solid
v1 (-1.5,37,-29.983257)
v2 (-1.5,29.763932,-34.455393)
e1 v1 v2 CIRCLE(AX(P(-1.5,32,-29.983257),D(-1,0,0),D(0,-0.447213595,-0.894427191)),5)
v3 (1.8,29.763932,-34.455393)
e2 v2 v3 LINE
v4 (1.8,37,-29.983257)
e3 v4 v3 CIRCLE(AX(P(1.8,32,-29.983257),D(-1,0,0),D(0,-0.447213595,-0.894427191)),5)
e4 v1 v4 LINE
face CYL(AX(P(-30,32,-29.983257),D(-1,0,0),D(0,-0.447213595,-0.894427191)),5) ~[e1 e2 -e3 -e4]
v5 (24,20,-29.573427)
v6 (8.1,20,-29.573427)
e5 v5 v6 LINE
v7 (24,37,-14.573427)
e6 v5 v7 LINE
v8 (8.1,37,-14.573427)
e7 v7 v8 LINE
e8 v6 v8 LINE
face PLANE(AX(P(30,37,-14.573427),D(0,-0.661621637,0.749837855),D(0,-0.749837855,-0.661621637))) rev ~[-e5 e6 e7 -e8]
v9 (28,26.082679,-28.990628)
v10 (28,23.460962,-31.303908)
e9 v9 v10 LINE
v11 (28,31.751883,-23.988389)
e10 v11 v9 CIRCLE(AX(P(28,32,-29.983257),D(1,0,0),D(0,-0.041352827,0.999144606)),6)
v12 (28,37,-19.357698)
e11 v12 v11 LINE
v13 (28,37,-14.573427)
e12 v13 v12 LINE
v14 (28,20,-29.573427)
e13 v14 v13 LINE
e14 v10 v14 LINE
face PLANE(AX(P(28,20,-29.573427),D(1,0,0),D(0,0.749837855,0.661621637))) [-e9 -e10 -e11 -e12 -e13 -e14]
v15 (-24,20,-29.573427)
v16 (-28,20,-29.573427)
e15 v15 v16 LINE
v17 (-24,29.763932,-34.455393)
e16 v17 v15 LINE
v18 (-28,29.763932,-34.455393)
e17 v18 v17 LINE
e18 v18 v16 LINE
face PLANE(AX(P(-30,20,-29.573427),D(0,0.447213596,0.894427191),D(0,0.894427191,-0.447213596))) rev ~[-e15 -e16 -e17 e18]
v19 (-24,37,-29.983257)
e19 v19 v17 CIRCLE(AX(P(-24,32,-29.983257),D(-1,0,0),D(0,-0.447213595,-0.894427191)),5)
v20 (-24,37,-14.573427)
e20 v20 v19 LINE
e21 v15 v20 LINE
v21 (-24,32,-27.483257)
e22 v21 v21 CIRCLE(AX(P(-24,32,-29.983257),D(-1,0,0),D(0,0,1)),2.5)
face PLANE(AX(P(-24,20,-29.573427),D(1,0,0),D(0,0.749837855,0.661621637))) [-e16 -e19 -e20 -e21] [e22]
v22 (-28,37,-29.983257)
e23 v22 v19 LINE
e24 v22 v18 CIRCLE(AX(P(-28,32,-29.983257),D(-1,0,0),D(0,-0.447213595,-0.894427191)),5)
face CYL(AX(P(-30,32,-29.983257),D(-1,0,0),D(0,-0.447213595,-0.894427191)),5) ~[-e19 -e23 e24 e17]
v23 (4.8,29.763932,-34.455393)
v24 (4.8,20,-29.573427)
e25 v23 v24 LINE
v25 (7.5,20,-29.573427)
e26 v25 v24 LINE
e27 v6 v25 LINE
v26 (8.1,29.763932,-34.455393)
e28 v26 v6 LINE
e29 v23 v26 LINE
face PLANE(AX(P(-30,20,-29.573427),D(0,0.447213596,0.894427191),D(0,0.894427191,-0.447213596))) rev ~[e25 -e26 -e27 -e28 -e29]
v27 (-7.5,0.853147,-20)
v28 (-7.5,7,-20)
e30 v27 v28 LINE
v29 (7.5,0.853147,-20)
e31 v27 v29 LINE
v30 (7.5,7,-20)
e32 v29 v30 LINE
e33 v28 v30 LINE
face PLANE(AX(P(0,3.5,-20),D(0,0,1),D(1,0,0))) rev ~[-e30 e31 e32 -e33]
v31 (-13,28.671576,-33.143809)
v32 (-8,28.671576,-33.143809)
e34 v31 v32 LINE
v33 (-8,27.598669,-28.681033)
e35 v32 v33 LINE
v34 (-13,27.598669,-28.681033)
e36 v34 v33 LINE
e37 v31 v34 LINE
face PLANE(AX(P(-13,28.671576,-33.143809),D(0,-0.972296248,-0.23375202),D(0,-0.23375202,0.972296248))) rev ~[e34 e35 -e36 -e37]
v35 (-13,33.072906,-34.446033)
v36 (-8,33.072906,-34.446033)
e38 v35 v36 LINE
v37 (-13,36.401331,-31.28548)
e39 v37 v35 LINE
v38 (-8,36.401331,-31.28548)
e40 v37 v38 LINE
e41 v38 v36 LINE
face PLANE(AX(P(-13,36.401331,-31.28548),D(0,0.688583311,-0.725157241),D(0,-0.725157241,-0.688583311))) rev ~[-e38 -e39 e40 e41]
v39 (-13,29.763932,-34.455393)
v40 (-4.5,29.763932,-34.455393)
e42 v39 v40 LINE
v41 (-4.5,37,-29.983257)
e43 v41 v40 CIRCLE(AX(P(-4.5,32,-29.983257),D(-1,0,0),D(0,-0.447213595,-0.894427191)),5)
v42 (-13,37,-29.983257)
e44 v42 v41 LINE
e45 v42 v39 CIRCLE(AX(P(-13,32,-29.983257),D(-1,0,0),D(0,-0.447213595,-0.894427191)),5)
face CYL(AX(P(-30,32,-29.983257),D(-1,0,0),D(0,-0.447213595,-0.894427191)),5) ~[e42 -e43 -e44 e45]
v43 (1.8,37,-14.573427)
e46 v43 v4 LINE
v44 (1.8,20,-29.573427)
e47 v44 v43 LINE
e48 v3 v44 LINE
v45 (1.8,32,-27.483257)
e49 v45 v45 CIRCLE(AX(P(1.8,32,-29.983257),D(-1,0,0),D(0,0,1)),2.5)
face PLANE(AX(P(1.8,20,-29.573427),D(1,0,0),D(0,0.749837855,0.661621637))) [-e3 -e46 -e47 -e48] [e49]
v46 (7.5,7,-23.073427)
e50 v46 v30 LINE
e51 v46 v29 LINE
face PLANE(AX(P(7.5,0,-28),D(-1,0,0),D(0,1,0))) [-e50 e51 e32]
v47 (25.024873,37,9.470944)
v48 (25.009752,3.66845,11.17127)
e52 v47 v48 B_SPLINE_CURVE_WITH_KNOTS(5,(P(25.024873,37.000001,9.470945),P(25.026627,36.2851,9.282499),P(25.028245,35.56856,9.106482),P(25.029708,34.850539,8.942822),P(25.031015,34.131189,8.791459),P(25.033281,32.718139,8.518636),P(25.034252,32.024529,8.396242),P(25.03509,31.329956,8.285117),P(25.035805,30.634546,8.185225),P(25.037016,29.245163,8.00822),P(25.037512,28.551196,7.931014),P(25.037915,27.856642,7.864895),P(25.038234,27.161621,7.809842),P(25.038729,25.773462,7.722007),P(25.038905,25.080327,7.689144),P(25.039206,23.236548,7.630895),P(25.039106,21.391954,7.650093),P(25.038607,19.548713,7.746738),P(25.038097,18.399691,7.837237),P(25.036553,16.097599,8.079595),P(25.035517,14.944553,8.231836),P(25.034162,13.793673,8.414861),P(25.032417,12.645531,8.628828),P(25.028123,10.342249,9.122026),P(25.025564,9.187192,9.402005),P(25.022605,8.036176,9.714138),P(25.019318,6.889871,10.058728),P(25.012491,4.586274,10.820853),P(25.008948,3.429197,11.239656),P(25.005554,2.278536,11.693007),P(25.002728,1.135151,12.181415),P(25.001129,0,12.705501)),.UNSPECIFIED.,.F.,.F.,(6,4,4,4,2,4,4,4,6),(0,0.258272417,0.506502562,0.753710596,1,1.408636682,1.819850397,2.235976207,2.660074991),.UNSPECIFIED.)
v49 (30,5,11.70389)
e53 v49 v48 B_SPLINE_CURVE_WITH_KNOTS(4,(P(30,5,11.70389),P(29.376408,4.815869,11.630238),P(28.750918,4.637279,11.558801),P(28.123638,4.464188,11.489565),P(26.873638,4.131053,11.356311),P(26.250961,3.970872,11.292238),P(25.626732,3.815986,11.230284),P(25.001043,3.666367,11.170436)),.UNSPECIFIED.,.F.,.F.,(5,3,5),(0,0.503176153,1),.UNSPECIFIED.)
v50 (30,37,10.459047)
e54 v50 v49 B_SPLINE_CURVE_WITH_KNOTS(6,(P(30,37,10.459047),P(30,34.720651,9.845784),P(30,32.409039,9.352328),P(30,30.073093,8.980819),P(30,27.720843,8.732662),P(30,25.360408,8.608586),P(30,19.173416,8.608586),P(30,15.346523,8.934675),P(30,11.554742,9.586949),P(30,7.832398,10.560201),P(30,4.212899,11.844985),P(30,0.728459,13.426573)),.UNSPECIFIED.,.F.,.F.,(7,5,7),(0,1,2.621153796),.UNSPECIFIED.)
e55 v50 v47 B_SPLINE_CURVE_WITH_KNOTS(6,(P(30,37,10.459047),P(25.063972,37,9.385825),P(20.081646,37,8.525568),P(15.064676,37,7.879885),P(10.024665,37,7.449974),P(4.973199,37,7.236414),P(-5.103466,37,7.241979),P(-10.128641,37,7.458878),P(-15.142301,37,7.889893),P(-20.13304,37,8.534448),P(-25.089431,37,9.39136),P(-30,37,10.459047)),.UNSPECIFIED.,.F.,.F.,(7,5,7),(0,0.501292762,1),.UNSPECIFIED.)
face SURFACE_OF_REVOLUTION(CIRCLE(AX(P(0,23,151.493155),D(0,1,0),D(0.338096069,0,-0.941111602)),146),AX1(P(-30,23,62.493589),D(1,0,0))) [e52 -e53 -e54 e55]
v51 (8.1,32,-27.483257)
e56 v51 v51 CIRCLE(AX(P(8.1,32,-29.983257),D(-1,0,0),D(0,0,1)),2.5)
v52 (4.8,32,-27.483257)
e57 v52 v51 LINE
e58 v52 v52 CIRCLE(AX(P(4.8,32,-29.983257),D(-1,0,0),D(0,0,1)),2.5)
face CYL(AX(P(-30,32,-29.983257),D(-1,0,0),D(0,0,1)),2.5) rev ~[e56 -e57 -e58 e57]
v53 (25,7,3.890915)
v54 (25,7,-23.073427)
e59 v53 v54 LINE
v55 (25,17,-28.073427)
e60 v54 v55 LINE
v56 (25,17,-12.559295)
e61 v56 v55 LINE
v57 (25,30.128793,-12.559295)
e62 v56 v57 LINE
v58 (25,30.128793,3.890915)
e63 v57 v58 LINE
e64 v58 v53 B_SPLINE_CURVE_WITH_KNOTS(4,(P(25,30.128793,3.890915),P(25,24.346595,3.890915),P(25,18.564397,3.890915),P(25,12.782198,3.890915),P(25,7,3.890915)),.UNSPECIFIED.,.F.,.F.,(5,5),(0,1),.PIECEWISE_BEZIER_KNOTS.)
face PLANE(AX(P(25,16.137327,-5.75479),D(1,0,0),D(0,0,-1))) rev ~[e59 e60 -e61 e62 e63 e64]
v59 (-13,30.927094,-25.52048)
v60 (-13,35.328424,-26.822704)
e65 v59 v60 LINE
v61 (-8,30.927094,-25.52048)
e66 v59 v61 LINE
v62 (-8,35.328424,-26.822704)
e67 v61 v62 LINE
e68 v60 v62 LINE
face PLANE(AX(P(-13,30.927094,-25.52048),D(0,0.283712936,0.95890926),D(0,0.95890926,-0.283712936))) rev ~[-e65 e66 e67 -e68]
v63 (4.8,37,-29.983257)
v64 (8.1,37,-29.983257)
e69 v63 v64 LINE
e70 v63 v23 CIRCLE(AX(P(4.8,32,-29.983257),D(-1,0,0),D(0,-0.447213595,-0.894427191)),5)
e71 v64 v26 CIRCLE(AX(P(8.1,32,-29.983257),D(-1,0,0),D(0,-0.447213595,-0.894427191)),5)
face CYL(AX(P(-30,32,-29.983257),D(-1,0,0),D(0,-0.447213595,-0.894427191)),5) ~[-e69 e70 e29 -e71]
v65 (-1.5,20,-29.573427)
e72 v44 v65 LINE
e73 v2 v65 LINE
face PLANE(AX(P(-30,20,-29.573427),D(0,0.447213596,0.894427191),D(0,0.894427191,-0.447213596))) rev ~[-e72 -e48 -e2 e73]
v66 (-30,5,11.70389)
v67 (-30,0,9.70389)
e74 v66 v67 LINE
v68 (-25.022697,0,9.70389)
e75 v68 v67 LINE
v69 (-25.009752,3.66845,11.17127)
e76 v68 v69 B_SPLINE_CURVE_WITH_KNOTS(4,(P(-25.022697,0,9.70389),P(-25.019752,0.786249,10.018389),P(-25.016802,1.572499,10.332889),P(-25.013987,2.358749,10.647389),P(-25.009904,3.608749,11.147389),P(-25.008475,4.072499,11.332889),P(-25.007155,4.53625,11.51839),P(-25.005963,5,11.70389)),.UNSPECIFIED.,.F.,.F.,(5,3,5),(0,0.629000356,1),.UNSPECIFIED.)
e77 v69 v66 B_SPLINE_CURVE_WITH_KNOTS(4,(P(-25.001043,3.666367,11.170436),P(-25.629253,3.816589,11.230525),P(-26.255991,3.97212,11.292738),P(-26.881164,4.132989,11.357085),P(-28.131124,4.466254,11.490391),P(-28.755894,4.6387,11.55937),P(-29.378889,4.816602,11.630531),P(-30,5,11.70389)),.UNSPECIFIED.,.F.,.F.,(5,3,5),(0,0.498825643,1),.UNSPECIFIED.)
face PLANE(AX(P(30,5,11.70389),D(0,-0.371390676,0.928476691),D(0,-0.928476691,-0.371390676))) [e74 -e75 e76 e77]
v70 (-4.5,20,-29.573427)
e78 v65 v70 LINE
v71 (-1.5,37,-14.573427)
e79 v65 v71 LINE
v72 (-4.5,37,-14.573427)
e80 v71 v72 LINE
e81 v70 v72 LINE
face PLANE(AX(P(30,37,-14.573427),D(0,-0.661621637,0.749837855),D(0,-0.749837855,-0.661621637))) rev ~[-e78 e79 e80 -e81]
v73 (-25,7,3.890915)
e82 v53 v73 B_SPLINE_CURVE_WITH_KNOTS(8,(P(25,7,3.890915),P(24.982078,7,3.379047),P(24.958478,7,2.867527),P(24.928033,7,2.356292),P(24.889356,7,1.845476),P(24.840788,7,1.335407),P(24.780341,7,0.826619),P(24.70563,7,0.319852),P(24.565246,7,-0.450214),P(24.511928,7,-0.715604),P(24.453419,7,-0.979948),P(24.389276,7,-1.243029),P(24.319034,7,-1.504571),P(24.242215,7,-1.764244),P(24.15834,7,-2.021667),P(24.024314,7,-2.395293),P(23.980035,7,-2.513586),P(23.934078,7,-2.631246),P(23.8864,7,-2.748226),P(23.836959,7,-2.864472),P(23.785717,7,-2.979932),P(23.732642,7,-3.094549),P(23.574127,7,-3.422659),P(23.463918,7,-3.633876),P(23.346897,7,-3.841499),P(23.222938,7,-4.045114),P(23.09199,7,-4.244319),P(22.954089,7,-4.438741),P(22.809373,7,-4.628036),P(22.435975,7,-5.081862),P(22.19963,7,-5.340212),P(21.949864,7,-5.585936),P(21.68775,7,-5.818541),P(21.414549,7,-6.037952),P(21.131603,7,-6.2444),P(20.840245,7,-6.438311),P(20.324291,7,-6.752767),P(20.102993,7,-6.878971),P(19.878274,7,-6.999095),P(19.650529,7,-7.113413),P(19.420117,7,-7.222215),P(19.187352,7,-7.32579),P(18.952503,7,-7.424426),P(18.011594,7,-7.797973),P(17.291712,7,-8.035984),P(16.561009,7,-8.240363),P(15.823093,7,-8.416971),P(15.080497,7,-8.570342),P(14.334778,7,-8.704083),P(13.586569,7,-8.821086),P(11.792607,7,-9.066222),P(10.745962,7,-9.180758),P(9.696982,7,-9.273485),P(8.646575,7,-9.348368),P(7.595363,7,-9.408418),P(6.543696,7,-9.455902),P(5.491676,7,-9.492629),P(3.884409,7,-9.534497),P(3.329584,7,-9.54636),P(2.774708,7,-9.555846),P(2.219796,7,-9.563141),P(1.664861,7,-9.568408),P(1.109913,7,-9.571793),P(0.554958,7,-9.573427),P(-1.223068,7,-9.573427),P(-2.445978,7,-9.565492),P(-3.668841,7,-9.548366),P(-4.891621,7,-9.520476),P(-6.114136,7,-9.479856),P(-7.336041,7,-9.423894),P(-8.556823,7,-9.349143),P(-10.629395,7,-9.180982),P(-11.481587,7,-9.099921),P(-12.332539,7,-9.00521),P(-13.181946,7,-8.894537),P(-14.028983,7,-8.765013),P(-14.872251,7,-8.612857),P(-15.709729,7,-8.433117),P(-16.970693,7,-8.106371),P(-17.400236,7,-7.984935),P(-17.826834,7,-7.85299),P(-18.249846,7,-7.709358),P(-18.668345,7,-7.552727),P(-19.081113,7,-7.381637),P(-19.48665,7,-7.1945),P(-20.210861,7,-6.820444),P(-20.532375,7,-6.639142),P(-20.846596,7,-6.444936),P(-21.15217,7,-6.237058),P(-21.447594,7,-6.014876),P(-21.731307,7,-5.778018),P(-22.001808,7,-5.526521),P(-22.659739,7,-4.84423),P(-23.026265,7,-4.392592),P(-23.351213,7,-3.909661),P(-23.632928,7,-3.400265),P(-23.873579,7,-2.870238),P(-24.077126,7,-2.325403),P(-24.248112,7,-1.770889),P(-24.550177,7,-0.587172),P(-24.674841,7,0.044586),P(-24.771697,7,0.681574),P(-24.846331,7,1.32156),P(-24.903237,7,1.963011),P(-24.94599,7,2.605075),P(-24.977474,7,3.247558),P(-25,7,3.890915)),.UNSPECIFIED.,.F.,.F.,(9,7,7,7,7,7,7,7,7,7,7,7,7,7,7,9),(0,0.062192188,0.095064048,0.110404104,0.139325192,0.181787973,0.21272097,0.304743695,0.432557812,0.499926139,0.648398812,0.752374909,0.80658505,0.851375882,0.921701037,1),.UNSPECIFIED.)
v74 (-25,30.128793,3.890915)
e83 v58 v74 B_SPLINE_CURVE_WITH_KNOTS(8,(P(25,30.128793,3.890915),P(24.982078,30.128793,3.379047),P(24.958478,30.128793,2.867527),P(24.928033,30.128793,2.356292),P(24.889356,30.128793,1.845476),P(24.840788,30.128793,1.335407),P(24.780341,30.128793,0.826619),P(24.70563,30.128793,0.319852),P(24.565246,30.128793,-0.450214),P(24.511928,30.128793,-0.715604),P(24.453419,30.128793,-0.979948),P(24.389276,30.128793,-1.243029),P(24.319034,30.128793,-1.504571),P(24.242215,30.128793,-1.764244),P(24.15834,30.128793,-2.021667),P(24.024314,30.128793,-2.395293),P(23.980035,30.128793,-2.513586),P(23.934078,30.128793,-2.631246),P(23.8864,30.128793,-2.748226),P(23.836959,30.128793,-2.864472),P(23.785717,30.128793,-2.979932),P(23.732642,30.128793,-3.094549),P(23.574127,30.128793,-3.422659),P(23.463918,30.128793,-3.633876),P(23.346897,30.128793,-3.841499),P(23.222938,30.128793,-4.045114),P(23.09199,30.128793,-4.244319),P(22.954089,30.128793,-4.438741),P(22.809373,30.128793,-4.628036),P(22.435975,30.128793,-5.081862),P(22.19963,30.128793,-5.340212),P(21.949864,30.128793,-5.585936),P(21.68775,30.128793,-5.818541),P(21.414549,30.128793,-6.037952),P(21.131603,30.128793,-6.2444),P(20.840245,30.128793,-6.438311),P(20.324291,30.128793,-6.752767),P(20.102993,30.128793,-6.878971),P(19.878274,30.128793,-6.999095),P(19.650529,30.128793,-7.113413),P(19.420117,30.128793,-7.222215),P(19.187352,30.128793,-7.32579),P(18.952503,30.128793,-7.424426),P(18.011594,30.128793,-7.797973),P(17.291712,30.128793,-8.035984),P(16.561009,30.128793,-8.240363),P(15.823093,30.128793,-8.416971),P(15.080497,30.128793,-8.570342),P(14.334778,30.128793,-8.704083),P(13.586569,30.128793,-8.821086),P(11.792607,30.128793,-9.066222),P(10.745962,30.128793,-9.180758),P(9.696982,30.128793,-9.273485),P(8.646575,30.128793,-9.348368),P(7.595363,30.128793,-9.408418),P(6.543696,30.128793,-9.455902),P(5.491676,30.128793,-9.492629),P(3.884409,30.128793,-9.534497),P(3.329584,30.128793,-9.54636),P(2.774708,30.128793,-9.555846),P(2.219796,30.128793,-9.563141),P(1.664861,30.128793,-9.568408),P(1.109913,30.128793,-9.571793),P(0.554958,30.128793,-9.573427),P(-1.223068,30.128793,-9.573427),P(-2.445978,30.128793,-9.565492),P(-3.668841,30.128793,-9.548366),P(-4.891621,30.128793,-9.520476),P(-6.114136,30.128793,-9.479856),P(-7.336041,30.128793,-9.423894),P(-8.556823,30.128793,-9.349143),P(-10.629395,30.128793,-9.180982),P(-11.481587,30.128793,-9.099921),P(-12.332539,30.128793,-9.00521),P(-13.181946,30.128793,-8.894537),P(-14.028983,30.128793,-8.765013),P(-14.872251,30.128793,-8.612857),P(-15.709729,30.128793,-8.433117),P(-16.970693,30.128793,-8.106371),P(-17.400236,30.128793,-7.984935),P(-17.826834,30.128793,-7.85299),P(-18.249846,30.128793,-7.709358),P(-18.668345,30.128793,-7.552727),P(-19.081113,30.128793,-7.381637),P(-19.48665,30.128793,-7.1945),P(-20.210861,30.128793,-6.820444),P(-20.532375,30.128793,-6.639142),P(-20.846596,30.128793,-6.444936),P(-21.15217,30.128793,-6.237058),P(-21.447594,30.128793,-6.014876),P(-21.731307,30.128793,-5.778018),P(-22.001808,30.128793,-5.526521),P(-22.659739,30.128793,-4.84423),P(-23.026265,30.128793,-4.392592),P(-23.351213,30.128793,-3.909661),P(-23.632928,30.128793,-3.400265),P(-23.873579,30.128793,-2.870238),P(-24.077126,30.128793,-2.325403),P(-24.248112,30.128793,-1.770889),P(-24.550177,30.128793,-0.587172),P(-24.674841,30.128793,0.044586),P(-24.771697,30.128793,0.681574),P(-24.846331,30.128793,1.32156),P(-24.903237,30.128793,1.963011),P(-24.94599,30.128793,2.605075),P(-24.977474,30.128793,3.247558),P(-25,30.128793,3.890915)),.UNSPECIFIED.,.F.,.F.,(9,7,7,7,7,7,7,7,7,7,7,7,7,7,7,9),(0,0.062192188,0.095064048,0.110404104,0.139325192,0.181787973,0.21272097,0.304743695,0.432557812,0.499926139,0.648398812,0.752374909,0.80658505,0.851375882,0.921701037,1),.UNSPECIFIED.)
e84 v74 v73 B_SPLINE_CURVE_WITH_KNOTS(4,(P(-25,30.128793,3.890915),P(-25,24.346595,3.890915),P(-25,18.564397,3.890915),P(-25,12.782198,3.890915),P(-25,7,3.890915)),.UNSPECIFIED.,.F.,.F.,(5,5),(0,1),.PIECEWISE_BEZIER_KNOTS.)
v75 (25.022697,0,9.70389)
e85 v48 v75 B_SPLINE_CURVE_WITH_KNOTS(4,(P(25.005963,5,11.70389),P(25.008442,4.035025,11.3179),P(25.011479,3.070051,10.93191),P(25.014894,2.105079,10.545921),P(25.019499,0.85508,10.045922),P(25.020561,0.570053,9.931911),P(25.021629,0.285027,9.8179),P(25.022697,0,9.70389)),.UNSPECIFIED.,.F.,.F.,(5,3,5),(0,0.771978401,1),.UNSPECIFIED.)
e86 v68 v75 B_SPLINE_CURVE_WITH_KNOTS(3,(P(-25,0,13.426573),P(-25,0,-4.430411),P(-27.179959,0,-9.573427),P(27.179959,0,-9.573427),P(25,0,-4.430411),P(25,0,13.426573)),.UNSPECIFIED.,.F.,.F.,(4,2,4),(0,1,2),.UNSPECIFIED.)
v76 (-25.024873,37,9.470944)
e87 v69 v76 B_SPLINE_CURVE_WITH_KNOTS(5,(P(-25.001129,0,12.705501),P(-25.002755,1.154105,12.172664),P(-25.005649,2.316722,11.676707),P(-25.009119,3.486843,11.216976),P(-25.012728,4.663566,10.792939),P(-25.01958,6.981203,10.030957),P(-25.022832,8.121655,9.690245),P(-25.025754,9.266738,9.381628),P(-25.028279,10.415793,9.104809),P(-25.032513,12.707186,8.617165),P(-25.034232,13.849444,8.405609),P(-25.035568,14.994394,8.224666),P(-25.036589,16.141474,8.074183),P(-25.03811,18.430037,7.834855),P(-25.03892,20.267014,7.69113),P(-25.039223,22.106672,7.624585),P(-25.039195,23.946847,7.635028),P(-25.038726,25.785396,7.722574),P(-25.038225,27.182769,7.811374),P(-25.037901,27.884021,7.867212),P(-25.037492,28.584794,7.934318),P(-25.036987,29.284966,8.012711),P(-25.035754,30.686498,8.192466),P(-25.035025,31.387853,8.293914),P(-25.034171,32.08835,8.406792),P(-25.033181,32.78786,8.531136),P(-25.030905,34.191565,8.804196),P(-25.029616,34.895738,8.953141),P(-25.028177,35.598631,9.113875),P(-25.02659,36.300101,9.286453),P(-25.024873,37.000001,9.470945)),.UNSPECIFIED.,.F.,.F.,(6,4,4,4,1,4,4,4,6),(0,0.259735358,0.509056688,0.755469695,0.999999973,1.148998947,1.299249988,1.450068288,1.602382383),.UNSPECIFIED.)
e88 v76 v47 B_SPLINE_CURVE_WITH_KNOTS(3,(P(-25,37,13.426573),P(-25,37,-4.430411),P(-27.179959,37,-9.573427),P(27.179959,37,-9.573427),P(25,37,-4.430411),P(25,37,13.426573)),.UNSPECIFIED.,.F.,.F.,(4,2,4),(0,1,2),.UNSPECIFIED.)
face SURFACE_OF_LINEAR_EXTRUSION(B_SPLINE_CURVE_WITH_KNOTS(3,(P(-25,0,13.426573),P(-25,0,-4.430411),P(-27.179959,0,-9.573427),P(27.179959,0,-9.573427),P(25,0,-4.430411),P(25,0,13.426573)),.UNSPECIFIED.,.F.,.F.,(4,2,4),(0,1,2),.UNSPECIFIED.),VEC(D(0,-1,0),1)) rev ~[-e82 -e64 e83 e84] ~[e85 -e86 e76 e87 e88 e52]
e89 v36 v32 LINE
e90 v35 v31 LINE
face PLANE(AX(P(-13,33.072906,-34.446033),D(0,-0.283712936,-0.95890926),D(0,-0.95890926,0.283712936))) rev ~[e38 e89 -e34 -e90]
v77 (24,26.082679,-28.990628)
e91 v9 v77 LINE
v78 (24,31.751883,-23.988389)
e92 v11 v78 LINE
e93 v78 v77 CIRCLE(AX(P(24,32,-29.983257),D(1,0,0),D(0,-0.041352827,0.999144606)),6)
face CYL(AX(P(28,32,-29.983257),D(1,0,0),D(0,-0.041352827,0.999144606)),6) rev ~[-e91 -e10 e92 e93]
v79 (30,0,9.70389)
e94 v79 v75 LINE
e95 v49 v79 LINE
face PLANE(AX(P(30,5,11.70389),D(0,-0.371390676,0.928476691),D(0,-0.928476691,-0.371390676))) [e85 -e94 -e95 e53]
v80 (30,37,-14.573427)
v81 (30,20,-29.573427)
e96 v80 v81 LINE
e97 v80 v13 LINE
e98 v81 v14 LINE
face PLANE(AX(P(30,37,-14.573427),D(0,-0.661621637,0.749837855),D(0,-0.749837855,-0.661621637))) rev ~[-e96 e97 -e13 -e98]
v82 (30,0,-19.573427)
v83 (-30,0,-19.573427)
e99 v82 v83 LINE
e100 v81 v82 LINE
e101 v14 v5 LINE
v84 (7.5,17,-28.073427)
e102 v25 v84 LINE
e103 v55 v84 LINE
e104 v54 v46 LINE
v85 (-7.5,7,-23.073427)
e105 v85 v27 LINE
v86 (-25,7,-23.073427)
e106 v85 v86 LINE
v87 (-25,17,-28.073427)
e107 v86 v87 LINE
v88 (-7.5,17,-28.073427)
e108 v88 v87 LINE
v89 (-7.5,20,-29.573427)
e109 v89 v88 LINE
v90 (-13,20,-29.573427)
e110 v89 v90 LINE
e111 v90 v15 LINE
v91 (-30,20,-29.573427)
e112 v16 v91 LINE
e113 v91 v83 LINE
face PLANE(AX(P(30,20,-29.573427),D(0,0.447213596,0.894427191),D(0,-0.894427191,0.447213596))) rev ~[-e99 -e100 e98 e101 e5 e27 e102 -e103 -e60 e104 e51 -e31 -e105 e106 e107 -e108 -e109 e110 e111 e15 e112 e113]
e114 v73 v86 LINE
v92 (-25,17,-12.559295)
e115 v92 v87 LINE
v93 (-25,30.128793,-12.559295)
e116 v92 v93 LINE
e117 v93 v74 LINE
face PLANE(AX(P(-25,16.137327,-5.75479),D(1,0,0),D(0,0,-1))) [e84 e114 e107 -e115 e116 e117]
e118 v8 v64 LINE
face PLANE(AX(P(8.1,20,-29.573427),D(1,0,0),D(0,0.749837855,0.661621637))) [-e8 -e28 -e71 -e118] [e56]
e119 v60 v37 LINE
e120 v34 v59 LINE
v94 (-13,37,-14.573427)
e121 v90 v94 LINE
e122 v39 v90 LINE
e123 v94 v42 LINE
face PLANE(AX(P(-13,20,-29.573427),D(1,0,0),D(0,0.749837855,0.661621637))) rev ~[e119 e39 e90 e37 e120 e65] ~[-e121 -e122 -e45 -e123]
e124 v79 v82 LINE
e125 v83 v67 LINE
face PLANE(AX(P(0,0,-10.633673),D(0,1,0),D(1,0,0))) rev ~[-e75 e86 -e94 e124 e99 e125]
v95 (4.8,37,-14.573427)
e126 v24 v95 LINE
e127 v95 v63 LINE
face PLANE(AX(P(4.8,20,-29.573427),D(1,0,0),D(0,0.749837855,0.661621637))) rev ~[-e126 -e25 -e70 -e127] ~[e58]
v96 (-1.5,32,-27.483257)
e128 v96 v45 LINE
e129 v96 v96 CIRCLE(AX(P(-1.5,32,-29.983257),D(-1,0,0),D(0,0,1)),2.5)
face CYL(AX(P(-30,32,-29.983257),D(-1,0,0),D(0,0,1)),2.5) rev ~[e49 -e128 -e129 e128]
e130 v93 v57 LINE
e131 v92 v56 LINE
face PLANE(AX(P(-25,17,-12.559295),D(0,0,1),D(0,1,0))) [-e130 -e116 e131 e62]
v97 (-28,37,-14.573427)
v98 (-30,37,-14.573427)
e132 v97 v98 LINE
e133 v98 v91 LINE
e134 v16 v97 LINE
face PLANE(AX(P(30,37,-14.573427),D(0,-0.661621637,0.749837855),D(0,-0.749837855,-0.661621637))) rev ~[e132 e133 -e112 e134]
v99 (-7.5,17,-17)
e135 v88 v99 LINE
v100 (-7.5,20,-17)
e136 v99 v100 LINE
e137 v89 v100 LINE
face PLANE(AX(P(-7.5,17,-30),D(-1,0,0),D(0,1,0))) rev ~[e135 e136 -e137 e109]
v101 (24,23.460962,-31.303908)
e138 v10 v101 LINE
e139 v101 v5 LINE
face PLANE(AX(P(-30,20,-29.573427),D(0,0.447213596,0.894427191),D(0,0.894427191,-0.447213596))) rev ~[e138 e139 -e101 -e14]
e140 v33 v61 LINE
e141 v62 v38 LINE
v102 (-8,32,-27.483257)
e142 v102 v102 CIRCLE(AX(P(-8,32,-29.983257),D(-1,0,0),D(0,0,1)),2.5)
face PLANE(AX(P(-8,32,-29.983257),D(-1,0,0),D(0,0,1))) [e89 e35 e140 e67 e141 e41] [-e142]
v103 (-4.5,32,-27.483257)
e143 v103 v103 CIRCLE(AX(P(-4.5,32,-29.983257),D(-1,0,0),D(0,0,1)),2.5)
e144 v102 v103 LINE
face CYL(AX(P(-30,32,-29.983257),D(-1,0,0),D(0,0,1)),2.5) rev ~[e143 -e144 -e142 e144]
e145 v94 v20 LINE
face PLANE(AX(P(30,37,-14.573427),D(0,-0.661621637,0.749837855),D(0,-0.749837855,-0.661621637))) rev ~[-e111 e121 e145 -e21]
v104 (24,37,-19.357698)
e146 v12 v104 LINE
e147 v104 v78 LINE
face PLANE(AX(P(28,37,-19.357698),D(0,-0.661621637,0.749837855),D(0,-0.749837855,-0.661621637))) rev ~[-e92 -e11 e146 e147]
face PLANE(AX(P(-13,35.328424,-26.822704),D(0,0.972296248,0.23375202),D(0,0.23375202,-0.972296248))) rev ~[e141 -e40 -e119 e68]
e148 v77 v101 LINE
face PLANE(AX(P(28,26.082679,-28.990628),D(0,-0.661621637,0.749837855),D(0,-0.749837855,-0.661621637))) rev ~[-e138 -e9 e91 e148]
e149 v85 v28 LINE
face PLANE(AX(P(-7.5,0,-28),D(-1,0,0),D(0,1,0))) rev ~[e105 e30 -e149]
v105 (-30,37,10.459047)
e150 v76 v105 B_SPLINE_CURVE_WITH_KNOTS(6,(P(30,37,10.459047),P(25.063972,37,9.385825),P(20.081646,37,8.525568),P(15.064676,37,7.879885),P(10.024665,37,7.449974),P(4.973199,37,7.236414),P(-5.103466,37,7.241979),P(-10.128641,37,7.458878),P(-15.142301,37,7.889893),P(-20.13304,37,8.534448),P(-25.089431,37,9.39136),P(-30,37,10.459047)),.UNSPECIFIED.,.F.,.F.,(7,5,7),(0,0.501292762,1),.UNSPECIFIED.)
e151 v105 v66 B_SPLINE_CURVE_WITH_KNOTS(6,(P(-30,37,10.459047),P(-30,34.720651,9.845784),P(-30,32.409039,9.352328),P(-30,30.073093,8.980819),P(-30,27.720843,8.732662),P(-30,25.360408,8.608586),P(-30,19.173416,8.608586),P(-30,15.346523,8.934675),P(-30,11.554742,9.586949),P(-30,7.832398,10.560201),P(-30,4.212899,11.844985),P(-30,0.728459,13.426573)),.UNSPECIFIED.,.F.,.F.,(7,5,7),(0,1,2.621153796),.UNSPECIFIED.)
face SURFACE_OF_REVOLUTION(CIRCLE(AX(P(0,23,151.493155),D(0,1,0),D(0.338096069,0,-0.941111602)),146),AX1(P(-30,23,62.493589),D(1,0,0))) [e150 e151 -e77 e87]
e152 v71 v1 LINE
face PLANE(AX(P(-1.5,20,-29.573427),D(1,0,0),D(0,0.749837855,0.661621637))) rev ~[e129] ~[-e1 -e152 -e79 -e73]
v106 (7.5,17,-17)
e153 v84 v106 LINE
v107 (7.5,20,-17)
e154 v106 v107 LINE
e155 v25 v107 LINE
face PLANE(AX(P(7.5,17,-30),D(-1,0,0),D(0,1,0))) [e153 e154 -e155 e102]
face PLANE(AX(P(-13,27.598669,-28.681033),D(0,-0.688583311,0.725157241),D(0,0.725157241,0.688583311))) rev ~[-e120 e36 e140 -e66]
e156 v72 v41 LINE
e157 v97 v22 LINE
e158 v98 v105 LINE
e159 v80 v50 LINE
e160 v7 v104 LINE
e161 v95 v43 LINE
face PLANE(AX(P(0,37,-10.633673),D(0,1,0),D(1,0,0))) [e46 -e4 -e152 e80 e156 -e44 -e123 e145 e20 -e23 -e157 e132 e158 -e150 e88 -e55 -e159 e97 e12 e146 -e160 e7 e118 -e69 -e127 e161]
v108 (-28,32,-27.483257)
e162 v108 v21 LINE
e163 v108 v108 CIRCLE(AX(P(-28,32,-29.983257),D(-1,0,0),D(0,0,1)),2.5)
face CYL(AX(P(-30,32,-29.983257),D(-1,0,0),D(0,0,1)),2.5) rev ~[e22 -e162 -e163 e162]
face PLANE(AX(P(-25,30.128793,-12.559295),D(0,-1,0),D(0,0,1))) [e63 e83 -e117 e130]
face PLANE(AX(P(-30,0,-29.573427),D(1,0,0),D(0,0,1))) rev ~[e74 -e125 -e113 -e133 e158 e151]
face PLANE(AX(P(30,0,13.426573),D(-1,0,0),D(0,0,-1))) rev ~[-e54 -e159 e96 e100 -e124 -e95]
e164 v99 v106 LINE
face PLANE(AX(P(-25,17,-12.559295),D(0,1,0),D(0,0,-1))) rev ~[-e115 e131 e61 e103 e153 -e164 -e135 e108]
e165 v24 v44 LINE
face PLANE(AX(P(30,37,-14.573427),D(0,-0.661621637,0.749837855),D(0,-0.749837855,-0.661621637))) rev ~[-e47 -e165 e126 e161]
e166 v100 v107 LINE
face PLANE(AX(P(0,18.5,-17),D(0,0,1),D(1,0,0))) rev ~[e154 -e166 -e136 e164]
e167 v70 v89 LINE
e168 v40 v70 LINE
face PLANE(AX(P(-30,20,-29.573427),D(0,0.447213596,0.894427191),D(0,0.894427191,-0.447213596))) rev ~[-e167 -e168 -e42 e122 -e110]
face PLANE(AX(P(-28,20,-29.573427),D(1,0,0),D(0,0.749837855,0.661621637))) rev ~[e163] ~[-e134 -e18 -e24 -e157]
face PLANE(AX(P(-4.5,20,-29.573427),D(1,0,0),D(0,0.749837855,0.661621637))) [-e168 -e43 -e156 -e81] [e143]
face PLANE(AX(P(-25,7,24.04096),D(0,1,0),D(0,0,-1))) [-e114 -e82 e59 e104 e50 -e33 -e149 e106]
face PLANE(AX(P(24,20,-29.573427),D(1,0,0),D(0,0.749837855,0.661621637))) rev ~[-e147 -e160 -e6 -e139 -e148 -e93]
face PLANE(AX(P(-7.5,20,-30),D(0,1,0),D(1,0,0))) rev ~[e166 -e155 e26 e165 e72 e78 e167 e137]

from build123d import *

# Parameters (mm, degrees)
BOSS_EXTRUDE1_DEPTH     = 37
CUT_EXTRUDE1_DEPTH      = 1.0000001
CUT_EXTRUDE1_DEPTH_BACK = 61.0000001
SKETCH4_W               = 4
SKETCH4_H               = 22.671568097
SKETCH4_W_2             = 3.3
SKETCH4_W_3             = 8.5
BOSS_EXTRUDE2_DEPTH     = 22
SKETCH5_R               = 2.5
CUT_EXTRUDE3_DEPTH      = 61.0000001
CUT_EXTRUDE4_DEPTH      = 5
CUT_EXTRUDE5_START      = -5
CUT_EXTRUDE5_DEPTH      = 50
CUT_EXTRUDE6_DEPTH      = 5
CUT_EXTRUDE7_DEPTH      = 61.0000001
SKETCH13_W              = 15
SKETCH13_H              = 7
CUT_EXTRUDE8_DEPTH      = 8
SKETCH14_W              = 15
SKETCH14_H              = 3
CUT_EXTRUDE9_DEPTH      = 13


with BuildPart() as part:
    # Sketch1 → Boss-Extrude1 (new body)
    with BuildSketch(Plane(origin=(0, 0, 0), x_dir=(1, 0, 0), z_dir=(0, 1, 0))):
        with BuildLine():
            Line((-30, -13.426573427), (-25, -13.426573427))
            add(Edge.make_bspline(
                [(-25, -13.426573427), (-25, 4.430411277), (-27.179958799, 9.573426573), (0, 9.573426573)],
                knots=[0, 0, 0, 0, 1, 1, 1, 1], degree=3))
            add(Edge.make_bspline(
                [(25, -13.426573427), (25, 4.430411277), (27.179958799, 9.573426573), (0, 9.573426573)],
                knots=[0, 0, 0, 0, 1, 1, 1, 1], degree=3))
            Line((25, -13.426573427), (30, -13.426573427))
            Line((30, -13.426573427), (30, 29.573426573))
            Line((30, 29.573426573), (-30, 29.573426573))
            Line((-30, 29.573426573), (-30, -13.426573427))
        make_face()
    extrude(amount=BOSS_EXTRUDE1_DEPTH)

    # Sketch3 → Cut-Extrude1 (cut, two sides)
    with BuildSketch(Plane(origin=(30, 0, 0), x_dir=(0, 0, -1), z_dir=(1, 0, 0))) as cut_extrude1_sk:
        Polygon((-57.646837501, 118.849632618), (14.573426573, 37), (29.573426573, 20), (19.573426573, 0), (-29.242818474, -97.632490095), (187.21482124, -69.231683414), (158.810802213, 147.250439298), align=None)
    extrude(amount=CUT_EXTRUDE1_DEPTH, mode=Mode.SUBTRACT)
    extrude(cut_extrude1_sk.sketch, amount=-CUT_EXTRUDE1_DEPTH_BACK, mode=Mode.SUBTRACT)

    # Sketch4 → Boss-Extrude2 (add)
    with BuildSketch(Plane(origin=(0, 23.426505401, -26.550039455), x_dir=(-1, 0, 0), z_dir=(0, 0.661621637, -0.749837855))):
        with Locations((-26, 6.766122252)):
            Rectangle(SKETCH4_W, SKETCH4_H)
        with Locations((-6.45, 6.766122252)):
            Rectangle(SKETCH4_W_2, SKETCH4_H)
        with Locations((-0.15, 6.766122252)):
            Rectangle(SKETCH4_W_2, SKETCH4_H)
        with Locations((8.75, 6.766122252)):
            Rectangle(SKETCH4_W_3, SKETCH4_H)
        with Locations((26, 6.766122252)):
            Rectangle(SKETCH4_W, SKETCH4_H)
    extrude(amount=BOSS_EXTRUDE2_DEPTH)

    # Sketch5 → Cut-Extrude3 (cut, through all)
    with BuildSketch(Plane.ZY.offset(30)):
        with Locations((-29.98325663, 32)):
            Circle(SKETCH5_R)
        with BuildLine():
            Line((-29.573426573, 20), (-34.455392585, 29.763932023))
            ThreePointArc((-34.455392585, 29.763932023), (-34.236510671, 34.628655561), (-29.98325663, 37))
            Line((-29.98325663, 37), (-14.573426573, 37))
            Line((-14.573426573, 37), (-31.069859391, 51.555676016))
            Line((-31.069859391, 51.555676016), (-46.069859391, 34.555676016))
            Line((-46.069859391, 34.555676016), (-29.573426573, 20))
        make_face()
    extrude(amount=-CUT_EXTRUDE3_DEPTH, mode=Mode.SUBTRACT)

    # Sketch6 → Cut-Extrude4 (cut)
    with BuildSketch(Plane(origin=(28, 0, 0), x_dir=(0, 0, -1), z_dir=(1, 0, 0))):
        with BuildLine():
            Line((19.357697554, 37), (23.988388994, 31.751883035))
            ThreePointArc((23.988388994, 31.751883035), (25.484229497, 28.030270177), (28.990627874, 26.082678972))
            Line((28.990627874, 26.082678972), (31.303907567, 23.460961986))
            Line((31.303907567, 23.460961986), (39.342476381, 37))
            Line((39.342476381, 37), (19.357697554, 37))
        make_face()
    extrude(amount=-CUT_EXTRUDE4_DEPTH, mode=Mode.SUBTRACT)

    # Sketch8 → Cut-Extrude5 (cut)
    with BuildSketch(Plane.ZY.offset(30).offset(CUT_EXTRUDE5_START)):
        Polygon((-37.173999373, 17), (-24.143524451, 17), (-12.559294899, 17), (-12.559294899, 30.128793492), (16.915989795, 30.128793492), (24.04096029, 17), (24.04096029, 7), (-37.173999373, 7), align=None)
    extrude(amount=-CUT_EXTRUDE5_DEPTH, mode=Mode.SUBTRACT)

    # Sketch9 → Cut-Extrude6 (cut)
    with BuildSketch(Plane.ZY.offset(13)):
        Polygon((-28.681032795, 27.598669169), (-25.520480402, 30.927093507), (-26.822704237, 35.328424338), (-31.285480464, 36.401330831), (-34.446032857, 33.072906493), (-33.143809023, 28.671575662), align=None)
    extrude(amount=-CUT_EXTRUDE6_DEPTH, mode=Mode.SUBTRACT)

    # Sketch11 → Cut-Revolve1 (revolve, cut)
    with BuildSketch(Plane(origin=(0, 23, 0), x_dir=(1, 0, 0), z_dir=(0, 1, 0))):
        with BuildLine():
            Line((-50.031983596, -14.333391692), (49.362026098, -14.090860868))
            ThreePointArc((49.362026098, -14.090860868), (-0.356252807, -5.493589451), (-50.031983596, -14.333391692))
        make_face()
    revolve(axis=Axis((-30, 23, 62.493589451), (1, 0, 0)), mode=Mode.SUBTRACT)

    # Sketch12 → Cut-Extrude7 (cut, through all)
    with BuildSketch(Plane(origin=(30, 0, 0), x_dir=(0, 0, -1), z_dir=(1, 0, 0))):
        Polygon((-11.703889749, 5), (-9.703889749, 0), (-17.42565217, 0), align=None)
    extrude(amount=-CUT_EXTRUDE7_DEPTH, mode=Mode.SUBTRACT)

    # Sketch13 → Cut-Extrude8 (cut)
    with BuildSketch(Plane.XY.offset(-28)):
        with Locations((0, 3.5)):
            Rectangle(SKETCH13_W, SKETCH13_H)
    extrude(amount=CUT_EXTRUDE8_DEPTH, mode=Mode.SUBTRACT)

    # Sketch14 → Cut-Extrude9 (cut)
    with BuildSketch(Plane.XY.offset(-30)):
        with Locations((0, 18.5)):
            Rectangle(SKETCH14_W, SKETCH14_H)
    extrude(amount=CUT_EXTRUDE9_DEPTH, mode=Mode.SUBTRACT)


solid = part.part
